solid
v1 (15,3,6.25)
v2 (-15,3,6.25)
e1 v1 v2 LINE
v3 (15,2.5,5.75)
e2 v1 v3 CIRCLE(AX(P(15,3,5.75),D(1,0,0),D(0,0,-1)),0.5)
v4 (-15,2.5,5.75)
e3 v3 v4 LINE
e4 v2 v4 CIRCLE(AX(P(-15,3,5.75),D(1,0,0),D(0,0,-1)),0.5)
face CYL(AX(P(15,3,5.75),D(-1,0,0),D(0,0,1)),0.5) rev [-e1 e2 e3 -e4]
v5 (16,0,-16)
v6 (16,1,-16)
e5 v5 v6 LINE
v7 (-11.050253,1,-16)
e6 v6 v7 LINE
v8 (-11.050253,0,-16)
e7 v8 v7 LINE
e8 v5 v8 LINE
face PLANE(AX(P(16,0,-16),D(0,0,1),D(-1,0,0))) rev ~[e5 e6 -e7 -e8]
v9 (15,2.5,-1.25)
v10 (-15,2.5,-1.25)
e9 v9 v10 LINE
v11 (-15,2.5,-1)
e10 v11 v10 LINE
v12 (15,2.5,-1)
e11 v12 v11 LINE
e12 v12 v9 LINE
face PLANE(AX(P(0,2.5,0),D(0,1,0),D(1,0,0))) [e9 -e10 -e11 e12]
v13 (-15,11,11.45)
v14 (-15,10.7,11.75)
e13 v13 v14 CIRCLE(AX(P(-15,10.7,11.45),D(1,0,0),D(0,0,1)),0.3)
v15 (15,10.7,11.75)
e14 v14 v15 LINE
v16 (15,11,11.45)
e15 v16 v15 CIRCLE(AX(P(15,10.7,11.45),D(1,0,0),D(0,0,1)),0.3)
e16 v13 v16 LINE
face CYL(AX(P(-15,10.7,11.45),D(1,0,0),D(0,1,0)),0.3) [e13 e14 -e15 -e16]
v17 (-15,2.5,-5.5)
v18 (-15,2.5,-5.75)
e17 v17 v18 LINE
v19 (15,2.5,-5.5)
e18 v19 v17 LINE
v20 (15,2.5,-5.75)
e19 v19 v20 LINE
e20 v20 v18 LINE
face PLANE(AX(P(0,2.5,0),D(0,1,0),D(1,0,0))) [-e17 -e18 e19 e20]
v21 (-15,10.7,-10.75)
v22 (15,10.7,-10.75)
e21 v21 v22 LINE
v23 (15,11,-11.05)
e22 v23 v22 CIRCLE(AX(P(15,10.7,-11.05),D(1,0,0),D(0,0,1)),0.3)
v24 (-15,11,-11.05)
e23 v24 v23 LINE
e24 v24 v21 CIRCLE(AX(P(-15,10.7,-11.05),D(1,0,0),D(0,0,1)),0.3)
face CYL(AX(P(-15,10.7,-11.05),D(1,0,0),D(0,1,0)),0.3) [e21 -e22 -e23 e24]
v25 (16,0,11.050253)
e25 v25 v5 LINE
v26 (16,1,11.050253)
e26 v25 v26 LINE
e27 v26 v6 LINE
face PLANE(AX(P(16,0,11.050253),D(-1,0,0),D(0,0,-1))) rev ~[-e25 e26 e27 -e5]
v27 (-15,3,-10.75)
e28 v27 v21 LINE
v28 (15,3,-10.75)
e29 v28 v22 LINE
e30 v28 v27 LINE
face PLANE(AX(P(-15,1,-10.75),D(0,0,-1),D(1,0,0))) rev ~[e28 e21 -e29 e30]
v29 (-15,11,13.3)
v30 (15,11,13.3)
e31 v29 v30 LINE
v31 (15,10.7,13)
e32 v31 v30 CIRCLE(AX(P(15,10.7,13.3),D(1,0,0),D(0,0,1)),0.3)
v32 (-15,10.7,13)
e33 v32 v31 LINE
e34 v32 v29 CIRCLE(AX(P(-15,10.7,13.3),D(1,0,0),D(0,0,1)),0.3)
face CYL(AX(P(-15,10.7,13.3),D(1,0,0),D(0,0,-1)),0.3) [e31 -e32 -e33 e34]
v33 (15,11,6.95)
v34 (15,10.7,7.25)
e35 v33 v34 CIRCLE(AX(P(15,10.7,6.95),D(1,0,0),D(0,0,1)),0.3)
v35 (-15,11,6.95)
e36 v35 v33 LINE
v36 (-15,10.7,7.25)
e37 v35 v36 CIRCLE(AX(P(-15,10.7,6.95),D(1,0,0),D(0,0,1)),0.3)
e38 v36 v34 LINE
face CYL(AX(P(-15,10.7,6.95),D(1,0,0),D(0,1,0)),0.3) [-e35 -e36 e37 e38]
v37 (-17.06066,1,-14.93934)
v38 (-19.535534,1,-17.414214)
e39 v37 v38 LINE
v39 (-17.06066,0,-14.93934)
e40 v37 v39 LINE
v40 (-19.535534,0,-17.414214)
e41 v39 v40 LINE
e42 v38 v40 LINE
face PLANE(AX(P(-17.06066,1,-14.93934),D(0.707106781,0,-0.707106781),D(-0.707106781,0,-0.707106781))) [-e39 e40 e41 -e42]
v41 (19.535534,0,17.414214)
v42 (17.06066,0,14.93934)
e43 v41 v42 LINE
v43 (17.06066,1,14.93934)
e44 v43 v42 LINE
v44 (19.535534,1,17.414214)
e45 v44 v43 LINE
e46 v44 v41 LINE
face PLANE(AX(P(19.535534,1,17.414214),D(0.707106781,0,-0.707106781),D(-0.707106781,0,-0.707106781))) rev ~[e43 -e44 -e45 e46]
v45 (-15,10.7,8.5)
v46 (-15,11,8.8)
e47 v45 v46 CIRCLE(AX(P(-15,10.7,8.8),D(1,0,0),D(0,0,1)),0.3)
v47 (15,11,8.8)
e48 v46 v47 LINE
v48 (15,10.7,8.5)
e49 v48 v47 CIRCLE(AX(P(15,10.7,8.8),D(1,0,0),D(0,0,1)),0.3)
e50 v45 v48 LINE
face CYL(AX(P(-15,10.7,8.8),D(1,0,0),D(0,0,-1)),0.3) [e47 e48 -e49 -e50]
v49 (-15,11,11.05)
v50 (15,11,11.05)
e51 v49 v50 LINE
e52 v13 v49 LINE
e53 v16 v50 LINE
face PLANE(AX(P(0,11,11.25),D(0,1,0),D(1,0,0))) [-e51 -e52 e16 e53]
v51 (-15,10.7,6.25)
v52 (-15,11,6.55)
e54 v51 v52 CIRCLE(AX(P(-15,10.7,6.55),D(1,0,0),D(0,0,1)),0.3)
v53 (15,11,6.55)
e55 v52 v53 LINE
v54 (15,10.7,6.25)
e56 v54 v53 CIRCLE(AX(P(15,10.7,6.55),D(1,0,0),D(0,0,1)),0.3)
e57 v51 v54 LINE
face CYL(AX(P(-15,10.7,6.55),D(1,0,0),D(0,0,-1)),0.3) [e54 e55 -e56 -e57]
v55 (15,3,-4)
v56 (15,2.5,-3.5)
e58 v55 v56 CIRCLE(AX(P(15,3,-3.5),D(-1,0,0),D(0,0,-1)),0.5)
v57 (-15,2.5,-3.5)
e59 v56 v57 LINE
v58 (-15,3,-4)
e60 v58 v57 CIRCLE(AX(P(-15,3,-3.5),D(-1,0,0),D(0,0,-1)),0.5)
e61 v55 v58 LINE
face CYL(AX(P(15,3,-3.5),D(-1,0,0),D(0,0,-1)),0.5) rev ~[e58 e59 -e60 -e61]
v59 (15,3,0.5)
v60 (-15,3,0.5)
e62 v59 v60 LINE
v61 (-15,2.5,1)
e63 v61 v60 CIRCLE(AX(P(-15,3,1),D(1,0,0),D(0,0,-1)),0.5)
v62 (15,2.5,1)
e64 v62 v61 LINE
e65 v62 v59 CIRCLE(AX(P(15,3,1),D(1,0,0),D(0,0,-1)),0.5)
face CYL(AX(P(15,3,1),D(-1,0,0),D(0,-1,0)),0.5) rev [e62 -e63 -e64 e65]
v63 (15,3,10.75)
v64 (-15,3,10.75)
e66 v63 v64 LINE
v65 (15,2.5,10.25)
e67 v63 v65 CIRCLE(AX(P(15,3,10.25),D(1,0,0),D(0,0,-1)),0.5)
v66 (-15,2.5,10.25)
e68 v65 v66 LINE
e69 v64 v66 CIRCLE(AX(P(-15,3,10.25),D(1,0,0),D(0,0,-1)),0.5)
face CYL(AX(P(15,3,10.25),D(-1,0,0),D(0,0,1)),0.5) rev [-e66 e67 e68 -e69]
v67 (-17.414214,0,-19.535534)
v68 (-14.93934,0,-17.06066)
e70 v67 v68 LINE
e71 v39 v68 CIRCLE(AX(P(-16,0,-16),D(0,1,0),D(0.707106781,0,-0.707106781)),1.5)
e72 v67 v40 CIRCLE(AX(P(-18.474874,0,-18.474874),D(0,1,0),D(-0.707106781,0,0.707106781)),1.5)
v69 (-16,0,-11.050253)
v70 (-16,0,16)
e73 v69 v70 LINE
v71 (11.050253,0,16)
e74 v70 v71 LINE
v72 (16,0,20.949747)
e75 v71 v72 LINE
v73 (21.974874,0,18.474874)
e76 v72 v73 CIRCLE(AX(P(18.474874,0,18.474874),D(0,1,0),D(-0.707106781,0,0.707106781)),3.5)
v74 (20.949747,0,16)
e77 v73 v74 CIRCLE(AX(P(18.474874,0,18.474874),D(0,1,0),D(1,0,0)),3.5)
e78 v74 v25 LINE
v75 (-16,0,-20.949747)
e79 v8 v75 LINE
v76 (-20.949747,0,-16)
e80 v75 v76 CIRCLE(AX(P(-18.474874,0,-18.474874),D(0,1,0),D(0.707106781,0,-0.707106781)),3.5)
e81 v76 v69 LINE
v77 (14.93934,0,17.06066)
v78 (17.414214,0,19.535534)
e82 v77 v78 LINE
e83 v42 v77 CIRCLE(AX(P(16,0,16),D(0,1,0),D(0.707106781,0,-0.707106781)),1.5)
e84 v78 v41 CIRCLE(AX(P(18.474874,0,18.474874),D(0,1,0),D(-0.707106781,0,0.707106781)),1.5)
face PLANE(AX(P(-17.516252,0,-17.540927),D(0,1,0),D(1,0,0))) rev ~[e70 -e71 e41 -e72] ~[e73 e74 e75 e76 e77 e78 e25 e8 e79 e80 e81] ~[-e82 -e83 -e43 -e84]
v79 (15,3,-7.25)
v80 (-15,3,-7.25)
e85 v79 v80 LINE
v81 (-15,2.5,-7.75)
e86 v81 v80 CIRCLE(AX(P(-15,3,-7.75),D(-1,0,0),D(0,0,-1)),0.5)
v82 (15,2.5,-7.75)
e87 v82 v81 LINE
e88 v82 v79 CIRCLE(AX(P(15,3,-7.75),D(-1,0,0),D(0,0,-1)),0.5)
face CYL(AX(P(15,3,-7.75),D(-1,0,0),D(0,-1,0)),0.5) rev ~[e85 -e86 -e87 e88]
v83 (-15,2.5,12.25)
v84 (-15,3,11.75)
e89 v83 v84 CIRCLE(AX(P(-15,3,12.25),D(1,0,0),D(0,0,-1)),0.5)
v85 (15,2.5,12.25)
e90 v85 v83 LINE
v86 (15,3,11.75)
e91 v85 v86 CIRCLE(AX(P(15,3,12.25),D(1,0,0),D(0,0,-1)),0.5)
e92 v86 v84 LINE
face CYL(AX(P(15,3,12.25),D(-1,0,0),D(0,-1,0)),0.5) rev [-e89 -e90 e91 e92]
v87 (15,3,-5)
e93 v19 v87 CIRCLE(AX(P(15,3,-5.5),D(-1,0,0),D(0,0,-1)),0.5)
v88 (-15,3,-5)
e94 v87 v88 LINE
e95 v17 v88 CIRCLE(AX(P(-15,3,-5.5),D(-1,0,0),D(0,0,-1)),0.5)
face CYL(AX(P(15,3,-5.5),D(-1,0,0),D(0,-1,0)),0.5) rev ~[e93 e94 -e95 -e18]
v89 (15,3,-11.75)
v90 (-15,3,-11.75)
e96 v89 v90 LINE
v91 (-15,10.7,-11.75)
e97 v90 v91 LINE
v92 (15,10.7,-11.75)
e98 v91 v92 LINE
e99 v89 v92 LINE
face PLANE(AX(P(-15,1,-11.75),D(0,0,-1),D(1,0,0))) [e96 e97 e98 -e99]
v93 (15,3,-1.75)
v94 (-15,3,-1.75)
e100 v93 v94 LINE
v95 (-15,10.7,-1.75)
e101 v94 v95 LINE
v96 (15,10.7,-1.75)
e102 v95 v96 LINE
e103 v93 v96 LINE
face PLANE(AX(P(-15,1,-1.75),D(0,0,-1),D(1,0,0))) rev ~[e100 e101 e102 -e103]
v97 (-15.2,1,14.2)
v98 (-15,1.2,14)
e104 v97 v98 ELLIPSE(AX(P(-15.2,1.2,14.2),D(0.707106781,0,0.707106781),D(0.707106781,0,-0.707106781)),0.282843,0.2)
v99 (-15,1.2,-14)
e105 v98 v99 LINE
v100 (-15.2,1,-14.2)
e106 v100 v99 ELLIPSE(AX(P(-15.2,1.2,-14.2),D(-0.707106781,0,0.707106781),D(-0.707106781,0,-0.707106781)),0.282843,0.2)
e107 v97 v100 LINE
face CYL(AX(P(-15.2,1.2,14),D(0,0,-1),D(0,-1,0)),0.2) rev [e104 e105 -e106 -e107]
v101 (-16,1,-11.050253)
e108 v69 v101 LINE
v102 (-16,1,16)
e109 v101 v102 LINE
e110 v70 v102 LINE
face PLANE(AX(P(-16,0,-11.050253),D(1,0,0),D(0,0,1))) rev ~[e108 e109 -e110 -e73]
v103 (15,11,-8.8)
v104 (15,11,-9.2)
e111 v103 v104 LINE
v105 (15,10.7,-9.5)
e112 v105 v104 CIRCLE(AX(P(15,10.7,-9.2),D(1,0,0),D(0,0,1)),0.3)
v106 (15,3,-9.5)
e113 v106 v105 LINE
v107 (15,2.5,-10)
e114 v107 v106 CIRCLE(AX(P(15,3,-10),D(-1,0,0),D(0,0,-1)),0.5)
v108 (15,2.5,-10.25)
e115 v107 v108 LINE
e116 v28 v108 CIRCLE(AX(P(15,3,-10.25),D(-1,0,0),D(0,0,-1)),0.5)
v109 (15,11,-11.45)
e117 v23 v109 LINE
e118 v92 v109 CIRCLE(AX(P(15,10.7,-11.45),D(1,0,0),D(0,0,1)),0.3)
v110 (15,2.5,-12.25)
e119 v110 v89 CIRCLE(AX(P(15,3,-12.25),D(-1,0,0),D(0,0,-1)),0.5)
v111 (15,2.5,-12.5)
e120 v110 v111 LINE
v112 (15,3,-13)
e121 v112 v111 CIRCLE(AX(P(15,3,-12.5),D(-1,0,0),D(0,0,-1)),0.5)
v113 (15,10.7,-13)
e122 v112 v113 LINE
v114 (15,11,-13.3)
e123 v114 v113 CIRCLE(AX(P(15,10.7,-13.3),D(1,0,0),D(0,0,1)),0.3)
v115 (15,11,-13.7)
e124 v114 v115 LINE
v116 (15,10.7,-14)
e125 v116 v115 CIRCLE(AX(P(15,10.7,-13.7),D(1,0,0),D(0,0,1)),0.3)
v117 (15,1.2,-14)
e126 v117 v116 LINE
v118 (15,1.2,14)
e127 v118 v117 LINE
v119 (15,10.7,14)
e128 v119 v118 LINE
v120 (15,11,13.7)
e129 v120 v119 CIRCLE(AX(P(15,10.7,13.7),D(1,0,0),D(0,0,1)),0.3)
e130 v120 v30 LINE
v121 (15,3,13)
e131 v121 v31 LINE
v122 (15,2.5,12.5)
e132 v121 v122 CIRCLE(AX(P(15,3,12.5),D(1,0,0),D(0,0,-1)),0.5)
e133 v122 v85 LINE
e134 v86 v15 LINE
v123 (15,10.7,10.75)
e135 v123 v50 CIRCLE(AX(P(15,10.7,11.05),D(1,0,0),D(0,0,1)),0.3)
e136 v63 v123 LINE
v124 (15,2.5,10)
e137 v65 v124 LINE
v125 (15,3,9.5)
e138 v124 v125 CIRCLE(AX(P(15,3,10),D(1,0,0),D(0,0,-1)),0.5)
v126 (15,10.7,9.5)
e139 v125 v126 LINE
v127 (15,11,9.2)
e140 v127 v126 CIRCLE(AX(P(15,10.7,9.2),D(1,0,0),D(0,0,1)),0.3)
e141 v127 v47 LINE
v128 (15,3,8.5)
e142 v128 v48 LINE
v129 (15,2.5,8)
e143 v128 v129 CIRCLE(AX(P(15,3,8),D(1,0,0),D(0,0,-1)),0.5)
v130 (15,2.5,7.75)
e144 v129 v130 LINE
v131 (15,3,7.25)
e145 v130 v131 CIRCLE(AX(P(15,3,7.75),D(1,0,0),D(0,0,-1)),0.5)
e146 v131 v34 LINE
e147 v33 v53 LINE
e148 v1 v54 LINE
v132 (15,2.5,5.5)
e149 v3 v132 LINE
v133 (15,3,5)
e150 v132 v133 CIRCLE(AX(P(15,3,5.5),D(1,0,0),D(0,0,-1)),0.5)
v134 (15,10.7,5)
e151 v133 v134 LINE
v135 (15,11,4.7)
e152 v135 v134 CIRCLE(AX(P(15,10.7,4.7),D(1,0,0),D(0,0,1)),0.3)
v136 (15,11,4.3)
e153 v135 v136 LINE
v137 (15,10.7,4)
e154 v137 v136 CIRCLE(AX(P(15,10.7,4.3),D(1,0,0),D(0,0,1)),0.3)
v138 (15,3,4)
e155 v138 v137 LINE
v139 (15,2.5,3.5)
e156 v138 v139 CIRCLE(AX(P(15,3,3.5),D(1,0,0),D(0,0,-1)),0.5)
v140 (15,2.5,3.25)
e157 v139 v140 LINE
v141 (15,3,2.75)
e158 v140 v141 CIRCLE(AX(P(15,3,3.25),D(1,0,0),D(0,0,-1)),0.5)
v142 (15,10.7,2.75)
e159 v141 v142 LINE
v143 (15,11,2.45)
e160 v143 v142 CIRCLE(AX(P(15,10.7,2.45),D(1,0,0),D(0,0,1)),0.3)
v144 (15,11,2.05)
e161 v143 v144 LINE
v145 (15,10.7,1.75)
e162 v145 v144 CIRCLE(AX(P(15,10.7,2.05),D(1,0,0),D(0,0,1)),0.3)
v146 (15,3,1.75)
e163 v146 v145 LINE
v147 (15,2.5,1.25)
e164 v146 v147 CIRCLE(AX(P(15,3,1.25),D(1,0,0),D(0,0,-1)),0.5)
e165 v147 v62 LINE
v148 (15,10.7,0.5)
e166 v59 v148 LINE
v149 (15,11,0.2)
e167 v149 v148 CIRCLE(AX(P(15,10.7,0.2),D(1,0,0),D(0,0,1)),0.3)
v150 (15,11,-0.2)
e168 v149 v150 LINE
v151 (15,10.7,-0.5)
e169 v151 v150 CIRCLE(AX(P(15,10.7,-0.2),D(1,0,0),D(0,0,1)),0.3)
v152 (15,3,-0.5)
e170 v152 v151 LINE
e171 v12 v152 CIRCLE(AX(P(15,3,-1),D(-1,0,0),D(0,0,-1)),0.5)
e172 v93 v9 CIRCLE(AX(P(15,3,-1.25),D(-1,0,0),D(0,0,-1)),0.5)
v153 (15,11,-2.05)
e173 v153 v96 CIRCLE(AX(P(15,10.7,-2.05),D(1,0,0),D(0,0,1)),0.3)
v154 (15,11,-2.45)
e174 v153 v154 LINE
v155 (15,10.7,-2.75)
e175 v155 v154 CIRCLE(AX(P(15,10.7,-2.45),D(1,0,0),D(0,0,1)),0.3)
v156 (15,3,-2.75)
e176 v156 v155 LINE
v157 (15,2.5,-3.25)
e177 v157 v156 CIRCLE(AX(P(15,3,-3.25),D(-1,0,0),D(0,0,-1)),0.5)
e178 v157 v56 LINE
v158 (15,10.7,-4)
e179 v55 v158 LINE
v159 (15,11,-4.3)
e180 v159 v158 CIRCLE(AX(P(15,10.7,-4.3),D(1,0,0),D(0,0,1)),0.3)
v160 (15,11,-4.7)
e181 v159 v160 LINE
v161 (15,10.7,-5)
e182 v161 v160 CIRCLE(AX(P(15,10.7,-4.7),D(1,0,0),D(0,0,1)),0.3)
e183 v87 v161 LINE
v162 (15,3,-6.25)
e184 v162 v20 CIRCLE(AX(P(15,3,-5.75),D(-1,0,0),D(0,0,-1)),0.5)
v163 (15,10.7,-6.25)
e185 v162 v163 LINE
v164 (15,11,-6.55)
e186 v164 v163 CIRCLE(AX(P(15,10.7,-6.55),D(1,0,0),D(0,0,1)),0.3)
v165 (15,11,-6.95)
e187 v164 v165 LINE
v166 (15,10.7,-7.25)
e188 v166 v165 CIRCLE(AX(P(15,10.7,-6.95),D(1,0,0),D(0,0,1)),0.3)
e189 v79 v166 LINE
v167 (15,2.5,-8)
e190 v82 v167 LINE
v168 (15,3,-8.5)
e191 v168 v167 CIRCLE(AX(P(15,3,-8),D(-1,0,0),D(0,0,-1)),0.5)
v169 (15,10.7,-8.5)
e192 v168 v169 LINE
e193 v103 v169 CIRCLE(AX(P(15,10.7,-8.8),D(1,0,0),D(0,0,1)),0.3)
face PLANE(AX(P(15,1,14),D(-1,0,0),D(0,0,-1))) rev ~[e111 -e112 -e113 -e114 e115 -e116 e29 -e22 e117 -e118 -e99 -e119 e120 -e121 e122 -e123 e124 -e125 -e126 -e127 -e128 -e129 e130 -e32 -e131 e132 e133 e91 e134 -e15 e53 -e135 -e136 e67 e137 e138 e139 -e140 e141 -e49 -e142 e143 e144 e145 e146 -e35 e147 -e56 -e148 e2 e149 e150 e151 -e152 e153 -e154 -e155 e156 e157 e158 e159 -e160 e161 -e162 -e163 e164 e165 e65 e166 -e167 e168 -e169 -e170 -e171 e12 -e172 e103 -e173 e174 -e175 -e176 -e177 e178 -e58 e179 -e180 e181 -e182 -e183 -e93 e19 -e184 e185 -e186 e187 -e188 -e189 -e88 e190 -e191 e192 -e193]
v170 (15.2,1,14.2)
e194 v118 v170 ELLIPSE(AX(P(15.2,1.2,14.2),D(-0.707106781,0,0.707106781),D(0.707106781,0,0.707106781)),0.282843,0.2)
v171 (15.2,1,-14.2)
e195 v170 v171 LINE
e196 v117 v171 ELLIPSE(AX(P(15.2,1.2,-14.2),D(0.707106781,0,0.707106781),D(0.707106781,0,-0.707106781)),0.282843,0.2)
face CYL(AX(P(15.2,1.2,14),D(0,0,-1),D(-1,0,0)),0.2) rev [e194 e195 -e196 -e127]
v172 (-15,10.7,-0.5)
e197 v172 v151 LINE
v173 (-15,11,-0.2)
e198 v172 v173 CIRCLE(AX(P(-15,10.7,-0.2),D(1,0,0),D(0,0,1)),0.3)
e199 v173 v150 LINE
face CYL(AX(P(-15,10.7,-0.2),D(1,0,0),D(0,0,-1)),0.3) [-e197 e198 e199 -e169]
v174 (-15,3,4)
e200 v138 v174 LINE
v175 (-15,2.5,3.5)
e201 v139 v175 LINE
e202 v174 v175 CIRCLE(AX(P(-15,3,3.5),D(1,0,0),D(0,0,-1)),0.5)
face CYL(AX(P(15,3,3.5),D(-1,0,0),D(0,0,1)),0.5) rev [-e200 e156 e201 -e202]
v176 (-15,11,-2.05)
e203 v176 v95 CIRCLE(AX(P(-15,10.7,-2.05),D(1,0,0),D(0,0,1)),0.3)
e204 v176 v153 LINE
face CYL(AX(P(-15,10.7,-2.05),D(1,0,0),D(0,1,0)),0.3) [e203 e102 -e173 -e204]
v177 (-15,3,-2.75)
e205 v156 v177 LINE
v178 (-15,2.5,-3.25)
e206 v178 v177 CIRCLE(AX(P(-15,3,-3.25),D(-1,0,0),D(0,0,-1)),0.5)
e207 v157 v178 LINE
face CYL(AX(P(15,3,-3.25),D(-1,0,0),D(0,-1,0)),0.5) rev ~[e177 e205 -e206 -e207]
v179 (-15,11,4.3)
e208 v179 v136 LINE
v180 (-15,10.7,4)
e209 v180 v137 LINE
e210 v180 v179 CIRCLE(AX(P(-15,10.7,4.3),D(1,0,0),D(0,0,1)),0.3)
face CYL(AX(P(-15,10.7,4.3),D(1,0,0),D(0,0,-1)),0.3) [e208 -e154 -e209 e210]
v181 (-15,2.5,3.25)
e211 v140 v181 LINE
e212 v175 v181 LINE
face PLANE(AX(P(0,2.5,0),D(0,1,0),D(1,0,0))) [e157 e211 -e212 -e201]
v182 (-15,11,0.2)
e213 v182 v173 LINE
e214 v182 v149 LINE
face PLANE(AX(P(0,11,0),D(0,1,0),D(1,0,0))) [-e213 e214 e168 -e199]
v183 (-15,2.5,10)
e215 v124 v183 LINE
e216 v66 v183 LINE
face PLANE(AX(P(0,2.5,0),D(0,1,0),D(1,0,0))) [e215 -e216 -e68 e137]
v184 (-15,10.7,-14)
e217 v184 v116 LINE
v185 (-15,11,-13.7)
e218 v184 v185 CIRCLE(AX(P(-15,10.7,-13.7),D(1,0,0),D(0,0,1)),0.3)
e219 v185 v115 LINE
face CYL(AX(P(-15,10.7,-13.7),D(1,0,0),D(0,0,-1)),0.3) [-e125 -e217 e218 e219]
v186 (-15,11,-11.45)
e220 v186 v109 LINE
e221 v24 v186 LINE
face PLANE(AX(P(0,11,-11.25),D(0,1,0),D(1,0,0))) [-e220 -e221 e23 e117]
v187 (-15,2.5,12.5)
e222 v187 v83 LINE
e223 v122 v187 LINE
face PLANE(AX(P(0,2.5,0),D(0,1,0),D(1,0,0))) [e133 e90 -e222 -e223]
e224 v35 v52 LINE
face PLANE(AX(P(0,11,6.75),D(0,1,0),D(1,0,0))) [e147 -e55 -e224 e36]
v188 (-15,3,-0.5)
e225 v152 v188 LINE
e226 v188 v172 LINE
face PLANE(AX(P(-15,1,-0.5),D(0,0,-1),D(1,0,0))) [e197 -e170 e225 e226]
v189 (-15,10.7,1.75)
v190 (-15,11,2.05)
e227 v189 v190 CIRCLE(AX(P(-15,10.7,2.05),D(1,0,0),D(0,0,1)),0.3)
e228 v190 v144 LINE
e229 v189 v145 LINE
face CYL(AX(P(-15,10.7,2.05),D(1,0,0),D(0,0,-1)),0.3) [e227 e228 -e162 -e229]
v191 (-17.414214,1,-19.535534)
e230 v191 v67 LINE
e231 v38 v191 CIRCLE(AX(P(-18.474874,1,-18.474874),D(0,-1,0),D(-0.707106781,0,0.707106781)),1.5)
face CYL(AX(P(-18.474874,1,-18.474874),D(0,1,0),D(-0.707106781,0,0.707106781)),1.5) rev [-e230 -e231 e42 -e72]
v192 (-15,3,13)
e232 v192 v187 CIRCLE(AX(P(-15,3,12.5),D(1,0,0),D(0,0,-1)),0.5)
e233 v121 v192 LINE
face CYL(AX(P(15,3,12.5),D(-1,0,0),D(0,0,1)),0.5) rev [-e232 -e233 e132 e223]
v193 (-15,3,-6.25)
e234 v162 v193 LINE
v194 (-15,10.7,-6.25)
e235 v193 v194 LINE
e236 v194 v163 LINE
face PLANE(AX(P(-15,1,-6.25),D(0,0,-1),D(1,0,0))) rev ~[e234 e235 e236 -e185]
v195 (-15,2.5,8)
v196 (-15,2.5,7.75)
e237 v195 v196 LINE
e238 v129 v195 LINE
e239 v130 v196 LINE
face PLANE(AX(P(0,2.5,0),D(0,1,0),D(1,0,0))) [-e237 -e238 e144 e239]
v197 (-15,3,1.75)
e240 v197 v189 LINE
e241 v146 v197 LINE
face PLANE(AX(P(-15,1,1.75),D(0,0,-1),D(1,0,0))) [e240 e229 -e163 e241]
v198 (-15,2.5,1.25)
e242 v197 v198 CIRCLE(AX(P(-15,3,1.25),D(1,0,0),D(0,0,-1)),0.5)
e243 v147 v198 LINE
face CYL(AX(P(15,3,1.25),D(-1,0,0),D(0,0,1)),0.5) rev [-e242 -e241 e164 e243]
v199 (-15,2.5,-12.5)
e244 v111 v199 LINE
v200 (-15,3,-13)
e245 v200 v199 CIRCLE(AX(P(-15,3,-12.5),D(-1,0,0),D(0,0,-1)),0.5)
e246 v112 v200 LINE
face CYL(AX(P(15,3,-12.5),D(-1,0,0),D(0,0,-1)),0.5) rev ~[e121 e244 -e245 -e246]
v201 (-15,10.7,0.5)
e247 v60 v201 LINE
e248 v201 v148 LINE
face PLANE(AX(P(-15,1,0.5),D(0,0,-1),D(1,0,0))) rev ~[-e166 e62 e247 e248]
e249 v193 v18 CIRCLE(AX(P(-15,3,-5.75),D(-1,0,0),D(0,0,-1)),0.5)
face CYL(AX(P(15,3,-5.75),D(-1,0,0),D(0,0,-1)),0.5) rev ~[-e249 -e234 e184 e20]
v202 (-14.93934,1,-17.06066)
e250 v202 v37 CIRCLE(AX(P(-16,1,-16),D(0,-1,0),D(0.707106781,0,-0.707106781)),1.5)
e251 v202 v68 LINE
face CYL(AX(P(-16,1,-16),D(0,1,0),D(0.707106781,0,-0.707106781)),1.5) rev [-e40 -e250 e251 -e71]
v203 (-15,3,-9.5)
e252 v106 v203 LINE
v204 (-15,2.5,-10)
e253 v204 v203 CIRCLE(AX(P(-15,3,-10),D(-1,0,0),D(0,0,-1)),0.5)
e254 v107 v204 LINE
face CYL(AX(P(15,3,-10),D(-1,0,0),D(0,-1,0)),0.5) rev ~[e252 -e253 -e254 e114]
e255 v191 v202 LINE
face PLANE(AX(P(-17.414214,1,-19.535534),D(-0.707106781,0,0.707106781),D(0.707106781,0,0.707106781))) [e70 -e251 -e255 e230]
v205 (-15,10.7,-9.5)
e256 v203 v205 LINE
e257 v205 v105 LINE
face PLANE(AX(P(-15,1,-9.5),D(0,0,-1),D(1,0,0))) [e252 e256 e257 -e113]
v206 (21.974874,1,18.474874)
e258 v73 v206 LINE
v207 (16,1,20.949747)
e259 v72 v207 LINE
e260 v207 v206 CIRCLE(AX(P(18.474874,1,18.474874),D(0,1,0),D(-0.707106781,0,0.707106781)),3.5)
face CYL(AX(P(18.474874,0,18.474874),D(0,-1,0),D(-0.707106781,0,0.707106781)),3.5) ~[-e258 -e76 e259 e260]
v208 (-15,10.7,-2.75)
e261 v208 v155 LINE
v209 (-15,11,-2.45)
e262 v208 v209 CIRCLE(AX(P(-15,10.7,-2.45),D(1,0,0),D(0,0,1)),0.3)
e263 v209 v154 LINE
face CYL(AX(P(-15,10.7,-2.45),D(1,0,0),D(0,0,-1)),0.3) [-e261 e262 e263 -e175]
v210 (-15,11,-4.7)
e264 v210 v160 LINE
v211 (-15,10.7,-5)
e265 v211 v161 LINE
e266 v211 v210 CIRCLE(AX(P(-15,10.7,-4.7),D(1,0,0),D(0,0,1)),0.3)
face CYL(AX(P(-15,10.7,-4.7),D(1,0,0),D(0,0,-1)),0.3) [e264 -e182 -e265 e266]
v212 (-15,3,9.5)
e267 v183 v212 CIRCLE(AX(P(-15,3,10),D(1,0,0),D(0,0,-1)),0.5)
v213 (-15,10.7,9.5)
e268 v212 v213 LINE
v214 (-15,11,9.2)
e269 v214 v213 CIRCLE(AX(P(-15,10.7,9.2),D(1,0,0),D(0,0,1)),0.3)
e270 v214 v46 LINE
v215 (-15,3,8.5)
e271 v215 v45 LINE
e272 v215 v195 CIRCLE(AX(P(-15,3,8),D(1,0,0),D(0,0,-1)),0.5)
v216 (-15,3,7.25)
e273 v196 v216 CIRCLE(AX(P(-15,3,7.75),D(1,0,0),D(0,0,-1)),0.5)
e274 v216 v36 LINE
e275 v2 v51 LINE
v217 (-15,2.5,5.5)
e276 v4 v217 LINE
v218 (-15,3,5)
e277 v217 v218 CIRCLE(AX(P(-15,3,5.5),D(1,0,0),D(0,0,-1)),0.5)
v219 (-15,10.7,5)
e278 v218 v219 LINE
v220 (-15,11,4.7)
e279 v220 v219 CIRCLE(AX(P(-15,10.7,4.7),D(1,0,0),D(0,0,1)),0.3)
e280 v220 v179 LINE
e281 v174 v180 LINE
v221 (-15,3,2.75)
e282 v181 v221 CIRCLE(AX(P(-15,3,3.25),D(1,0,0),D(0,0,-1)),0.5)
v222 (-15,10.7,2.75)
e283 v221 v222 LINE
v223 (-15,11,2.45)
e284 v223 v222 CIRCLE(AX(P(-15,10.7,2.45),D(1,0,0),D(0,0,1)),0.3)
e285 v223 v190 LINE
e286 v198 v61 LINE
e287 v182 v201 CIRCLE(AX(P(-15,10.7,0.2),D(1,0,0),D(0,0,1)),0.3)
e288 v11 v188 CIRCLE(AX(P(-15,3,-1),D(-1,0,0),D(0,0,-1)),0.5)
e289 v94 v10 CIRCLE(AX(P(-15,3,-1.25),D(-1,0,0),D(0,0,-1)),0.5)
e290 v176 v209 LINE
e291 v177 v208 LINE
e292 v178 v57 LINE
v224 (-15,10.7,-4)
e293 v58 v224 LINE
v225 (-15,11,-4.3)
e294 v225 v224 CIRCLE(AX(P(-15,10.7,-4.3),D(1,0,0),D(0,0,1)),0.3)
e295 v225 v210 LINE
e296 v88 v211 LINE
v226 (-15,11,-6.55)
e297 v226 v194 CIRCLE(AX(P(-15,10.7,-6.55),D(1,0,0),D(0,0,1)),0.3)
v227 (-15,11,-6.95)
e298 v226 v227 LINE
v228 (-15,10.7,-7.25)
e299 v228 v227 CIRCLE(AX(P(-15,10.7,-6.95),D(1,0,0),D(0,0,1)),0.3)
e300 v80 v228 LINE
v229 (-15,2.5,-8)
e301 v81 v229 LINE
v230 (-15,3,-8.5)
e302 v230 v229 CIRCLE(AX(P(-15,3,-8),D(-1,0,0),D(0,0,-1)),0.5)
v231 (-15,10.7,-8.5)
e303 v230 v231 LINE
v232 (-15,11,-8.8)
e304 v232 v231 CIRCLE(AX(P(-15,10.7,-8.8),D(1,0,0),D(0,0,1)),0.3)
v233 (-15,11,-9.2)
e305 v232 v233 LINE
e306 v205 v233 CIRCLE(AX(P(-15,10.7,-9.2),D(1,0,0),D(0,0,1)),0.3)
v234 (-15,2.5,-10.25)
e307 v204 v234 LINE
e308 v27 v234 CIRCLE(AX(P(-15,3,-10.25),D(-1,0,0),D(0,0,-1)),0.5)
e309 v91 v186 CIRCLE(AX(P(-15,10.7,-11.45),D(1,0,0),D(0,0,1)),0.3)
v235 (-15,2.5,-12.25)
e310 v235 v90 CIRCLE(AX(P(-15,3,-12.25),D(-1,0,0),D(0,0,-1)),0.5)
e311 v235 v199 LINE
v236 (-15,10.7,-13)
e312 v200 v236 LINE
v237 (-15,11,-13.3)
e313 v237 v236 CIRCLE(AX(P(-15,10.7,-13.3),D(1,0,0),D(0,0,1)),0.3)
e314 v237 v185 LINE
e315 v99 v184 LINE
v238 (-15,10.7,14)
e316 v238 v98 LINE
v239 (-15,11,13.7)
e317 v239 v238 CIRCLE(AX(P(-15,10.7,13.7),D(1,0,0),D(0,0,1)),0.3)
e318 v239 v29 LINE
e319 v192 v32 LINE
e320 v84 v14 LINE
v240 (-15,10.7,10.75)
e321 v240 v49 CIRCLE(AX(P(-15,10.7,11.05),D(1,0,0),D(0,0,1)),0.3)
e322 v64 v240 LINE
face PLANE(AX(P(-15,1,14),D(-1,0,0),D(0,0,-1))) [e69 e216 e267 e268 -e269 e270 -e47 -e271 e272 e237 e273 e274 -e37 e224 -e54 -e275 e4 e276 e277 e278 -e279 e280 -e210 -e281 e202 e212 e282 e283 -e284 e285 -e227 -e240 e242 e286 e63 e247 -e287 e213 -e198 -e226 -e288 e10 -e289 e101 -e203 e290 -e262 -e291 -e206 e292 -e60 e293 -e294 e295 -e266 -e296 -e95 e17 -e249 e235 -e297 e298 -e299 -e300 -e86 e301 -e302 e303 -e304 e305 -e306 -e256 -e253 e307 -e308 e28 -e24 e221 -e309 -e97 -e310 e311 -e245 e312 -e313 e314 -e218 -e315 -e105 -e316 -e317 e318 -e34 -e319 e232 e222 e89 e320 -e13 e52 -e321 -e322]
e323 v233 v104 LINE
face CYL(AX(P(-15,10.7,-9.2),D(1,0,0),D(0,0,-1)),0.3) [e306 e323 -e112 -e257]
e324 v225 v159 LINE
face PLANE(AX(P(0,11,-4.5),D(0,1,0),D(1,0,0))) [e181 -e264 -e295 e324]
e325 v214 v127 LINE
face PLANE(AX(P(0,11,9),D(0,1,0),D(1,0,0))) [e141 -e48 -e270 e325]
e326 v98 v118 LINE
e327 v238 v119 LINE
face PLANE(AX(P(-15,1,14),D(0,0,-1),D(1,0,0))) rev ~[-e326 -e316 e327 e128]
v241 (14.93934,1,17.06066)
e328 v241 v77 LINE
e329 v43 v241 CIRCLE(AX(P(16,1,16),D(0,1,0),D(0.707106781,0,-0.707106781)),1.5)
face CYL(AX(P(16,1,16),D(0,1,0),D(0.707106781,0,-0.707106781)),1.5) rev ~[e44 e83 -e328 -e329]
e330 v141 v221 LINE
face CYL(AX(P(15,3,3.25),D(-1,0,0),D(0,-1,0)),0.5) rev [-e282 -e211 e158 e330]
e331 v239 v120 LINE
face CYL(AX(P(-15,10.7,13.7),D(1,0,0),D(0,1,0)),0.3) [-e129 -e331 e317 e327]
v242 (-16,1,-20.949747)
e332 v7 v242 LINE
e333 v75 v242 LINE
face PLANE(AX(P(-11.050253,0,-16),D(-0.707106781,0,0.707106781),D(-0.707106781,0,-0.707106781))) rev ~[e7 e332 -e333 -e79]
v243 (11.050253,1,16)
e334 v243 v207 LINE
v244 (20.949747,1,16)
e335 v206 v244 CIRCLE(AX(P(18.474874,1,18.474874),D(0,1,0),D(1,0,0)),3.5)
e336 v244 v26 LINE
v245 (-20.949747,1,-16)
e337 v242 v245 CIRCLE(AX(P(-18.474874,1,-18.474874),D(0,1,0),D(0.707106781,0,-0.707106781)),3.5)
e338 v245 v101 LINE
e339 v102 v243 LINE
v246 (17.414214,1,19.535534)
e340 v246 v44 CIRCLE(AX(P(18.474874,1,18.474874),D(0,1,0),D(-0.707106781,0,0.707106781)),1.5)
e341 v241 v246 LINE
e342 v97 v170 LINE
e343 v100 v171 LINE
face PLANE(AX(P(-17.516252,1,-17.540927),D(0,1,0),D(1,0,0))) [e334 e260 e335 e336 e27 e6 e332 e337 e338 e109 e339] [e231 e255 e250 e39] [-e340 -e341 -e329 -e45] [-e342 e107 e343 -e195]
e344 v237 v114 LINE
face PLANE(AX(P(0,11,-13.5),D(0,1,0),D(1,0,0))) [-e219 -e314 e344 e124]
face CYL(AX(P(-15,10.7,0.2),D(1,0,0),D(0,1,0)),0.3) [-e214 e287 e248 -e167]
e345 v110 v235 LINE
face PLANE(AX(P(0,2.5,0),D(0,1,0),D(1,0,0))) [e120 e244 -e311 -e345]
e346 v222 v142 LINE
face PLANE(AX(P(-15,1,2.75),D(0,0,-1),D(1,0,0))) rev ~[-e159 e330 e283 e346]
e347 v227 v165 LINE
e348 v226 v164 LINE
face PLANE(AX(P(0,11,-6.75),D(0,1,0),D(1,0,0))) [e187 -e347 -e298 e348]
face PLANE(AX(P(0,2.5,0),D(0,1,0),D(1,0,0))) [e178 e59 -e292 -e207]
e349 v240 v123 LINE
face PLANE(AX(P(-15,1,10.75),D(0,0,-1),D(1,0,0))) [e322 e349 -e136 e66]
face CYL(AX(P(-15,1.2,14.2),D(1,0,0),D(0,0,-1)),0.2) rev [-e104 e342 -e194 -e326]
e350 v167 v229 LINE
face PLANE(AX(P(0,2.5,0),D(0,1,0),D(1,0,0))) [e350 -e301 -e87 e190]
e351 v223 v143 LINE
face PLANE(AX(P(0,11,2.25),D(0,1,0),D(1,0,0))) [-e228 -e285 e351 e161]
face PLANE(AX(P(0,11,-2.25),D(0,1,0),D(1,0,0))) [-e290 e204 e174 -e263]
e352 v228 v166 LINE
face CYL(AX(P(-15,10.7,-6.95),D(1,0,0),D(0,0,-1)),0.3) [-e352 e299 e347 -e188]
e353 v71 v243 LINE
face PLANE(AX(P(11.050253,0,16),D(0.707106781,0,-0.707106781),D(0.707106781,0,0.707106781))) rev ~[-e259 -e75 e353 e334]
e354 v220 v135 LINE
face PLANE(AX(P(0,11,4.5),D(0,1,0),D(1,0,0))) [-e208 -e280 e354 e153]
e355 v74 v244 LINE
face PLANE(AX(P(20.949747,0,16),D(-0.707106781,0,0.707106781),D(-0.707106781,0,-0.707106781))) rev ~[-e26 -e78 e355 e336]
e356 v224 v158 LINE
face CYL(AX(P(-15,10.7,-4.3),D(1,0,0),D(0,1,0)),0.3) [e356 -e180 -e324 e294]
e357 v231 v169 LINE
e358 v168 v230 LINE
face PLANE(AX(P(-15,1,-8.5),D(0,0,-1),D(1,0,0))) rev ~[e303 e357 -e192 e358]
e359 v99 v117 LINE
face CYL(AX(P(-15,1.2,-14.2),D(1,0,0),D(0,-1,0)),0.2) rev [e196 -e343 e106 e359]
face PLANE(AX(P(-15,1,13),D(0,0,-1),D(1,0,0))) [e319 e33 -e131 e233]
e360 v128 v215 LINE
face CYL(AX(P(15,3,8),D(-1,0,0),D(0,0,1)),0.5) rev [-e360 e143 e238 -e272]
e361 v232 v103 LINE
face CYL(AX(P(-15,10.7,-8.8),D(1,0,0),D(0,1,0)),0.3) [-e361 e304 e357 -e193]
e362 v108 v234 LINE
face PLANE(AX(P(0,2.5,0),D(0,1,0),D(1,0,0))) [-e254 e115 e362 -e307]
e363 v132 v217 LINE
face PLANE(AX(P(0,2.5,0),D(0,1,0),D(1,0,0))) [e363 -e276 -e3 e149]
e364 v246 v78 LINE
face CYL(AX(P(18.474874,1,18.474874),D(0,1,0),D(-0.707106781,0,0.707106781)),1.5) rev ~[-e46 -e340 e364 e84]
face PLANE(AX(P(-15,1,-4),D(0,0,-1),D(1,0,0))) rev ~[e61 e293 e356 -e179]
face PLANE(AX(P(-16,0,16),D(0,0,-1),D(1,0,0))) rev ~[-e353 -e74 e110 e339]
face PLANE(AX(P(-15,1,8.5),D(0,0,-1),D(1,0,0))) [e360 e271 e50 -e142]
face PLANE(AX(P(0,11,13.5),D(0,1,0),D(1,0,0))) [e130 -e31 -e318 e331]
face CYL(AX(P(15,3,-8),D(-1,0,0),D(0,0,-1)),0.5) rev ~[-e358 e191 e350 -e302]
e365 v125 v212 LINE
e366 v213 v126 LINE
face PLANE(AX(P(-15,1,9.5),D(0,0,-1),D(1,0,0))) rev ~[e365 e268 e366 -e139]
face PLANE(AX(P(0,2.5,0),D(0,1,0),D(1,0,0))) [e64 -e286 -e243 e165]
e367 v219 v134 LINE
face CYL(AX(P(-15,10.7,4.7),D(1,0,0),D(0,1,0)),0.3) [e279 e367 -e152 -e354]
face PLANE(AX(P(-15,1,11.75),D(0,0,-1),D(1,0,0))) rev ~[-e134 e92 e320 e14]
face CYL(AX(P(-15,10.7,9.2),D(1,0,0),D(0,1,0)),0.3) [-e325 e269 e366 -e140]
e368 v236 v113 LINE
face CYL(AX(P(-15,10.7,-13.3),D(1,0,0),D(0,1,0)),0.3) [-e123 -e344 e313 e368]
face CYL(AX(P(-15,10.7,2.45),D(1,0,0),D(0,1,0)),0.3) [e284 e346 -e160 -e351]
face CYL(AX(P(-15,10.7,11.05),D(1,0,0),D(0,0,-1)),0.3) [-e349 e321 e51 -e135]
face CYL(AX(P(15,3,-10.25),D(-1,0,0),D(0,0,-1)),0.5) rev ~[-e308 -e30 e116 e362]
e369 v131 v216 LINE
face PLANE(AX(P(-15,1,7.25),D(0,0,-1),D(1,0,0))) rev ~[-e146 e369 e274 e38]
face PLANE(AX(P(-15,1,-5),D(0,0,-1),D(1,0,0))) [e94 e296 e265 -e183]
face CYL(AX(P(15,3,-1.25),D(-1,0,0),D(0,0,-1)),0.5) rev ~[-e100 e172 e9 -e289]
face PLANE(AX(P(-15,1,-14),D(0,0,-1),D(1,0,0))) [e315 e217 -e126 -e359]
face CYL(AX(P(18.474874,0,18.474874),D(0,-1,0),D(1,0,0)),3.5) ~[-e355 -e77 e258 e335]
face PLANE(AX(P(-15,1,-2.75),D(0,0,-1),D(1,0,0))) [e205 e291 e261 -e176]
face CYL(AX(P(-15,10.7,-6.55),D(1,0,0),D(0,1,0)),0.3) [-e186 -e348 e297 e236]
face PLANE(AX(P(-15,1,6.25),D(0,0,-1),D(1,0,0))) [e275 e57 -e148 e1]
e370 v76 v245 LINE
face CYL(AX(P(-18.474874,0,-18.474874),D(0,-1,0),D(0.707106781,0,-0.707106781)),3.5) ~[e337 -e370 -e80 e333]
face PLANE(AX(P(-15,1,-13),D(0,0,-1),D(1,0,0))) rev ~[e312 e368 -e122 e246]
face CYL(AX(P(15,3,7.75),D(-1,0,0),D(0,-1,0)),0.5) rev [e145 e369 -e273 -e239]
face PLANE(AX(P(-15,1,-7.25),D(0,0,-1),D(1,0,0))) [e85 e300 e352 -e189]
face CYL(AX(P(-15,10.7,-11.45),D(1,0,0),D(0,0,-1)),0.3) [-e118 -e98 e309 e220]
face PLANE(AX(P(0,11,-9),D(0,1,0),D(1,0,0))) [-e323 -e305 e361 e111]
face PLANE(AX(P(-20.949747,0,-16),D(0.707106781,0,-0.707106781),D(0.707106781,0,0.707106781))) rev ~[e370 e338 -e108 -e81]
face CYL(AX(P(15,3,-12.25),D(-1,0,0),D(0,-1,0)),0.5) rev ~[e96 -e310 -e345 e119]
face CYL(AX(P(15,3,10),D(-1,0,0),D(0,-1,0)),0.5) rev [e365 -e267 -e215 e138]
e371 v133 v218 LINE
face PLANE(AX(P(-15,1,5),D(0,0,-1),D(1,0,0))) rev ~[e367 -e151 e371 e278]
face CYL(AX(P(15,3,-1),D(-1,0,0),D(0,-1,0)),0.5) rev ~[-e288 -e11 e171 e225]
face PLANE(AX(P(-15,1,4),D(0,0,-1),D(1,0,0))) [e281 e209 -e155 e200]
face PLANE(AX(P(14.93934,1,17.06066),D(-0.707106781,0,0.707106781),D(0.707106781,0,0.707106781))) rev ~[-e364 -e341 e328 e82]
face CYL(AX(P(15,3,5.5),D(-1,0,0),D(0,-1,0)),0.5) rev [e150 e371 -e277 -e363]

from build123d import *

# Parameters (mm, degrees)
DODANIE_WYCI_GNI_CIE2_DEPTH = 1
WYTNIJ_WYCI_GNI_CIE1_DEPTH  = 32.093249288
SZKIC4_W                    = 30
SZKIC4_H                    = 28
DODANIE_WYCI_GNI_CIE3_DEPTH = 1.5
SZKIC3_W                    = 30
SZKIC3_H                    = 1
DODANIE_WYCI_GNI_CIE4_DEPTH = 10
ZAOKR_GLENIE1_R             = 0.3
ZAOKR_GLENIE2_R             = 0.5
ZAOKR_GLENIE3_R             = 0.2


with BuildPart() as part:
    # Szkic1 → Dodanie-wyciągnięcie2 (new body)
    with BuildSketch(Plane(origin=(0, 0, 0), x_dir=(1, 0, 0), z_dir=(0, 1, 0))):
        with BuildLine():
            ThreePointArc((-14.974873734, 18.474873734), (-15.24129537, 19.814265747), (-16, 20.949747468))
            Line((-16, 20.949747468), (-20.949747468, 16))
            ThreePointArc((-20.949747468, 16), (-18.474873734, 14.974873734), (-16, 16))
            ThreePointArc((-16, 16), (-15.24129537, 17.135481721), (-14.974873734, 18.474873734))
        make_face()
        with BuildLine():
            Line((-20.949747468, 16), (-16, 20.949747468))
            ThreePointArc((-16, 20.949747468), (-20.949747468, 20.949747468), (-20.949747468, 16))
        make_face()
        with BuildLine():
            Line((-11.050252532, 16), (-16, 20.949747468))
            ThreePointArc((-16, 20.949747468), (-15.24129537, 19.814265747), (-14.974873734, 18.474873734))
            ThreePointArc((-14.974873734, 18.474873734), (-15.24129537, 17.135481721), (-16, 16))
            Line((-16, 16), (-11.050252532, 16))
        make_face()
        Polygon((16, -11.050252532), (-11.050252532, 16), (-16, 16), (-16, 11.050252532), (11.050252532, -16), (16, -16), align=None)
        with BuildLine():
            ThreePointArc((-16, 16), (-18.474873734, 14.974873734), (-20.949747468, 16))
            Line((-20.949747468, 16), (-16, 11.050252532))
            Line((-16, 11.050252532), (-16, 16))
        make_face()
        Polygon((11.050252532, -16), (-16, 11.050252532), (-16, -16), align=None)
        Polygon((16, 16), (-11.050252532, 16), (16, -11.050252532), align=None)
        with BuildLine():
            Line((20.949747468, -16), (16, -11.050252532))
            Line((16, -11.050252532), (16, -16))
            ThreePointArc((16, -16), (18.474873734, -14.974873734), (20.949747468, -16))
        make_face()
        with BuildLine():
            ThreePointArc((21.974873734, -18.474873734), (21.708452098, -17.135481721), (20.949747468, -16))
            Line((20.949747468, -16), (16, -20.949747468))
            ThreePointArc((16, -20.949747468), (19.814265747, -21.708452098), (21.974873734, -18.474873734))
        make_face()
        with BuildLine():
            Line((16, -20.949747468), (20.949747468, -16))
            ThreePointArc((20.949747468, -16), (18.474873734, -14.974873734), (16, -16))
            ThreePointArc((16, -16), (14.974873734, -18.474873734), (16, -20.949747468))
        make_face()
        with BuildLine():
            ThreePointArc((16, -20.949747468), (14.974873734, -18.474873734), (16, -16))
            Line((16, -16), (11.050252532, -16))
            Line((11.050252532, -16), (16, -20.949747468))
        make_face()
    extrude(amount=DODANIE_WYCI_GNI_CIE2_DEPTH)

    # Szkic2 → Wytnij-wyciągnięcie1 (cut, through all)
    with BuildSketch(Plane(origin=(0, 1, 0), x_dir=(1, 0, 0), z_dir=(0, 1, 0))):
        with BuildLine():
            Line((-17.414213562, 19.535533906), (-14.939339828, 17.060660172))
            ThreePointArc((-14.939339828, 17.060660172), (-14.939339828, 14.939339828), (-17.060660172, 14.939339828))
            Line((-17.060660172, 14.939339828), (-19.535533906, 17.414213562))
            ThreePointArc((-19.535533906, 17.414213562), (-19.535533906, 19.535533906), (-17.414213562, 19.535533906))
        make_face()
        with BuildLine():
            Line((19.535533906, -17.414213562), (17.060660172, -14.939339828))
            ThreePointArc((17.060660172, -14.939339828), (14.939339828, -14.939339828), (14.939339828, -17.060660172))
            Line((14.939339828, -17.060660172), (17.414213562, -19.535533906))
            ThreePointArc((17.414213562, -19.535533906), (19.535533906, -19.535533906), (19.535533906, -17.414213562))
        make_face()
    extrude(amount=-WYTNIJ_WYCI_GNI_CIE1_DEPTH, mode=Mode.SUBTRACT)

    # Szkic4 → Dodanie-wyciągnięcie3 (add)
    with BuildSketch(Plane(origin=(0, 1, 0), x_dir=(1, 0, 0), z_dir=(0, 1, 0))):
        Rectangle(SZKIC4_W, SZKIC4_H)
    extrude(amount=DODANIE_WYCI_GNI_CIE3_DEPTH)

    # Szkic3 → Dodanie-wyciągnięcie4 (add)
    with BuildSketch(Plane(origin=(0, 1, 0), x_dir=(1, 0, 0), z_dir=(0, 1, 0))):
        with Locations((0, 13.5)):
            Rectangle(SZKIC3_W, SZKIC3_H)
        with Locations((0, 4.5)):
            Rectangle(SZKIC3_W, SZKIC3_H)
        with Locations((0, -4.5)):
            Rectangle(SZKIC3_W, SZKIC3_H)
        with Locations((0, -11.25)):
            Rectangle(SZKIC3_W, SZKIC3_H)
        with Locations((0, -13.5)):
            Rectangle(SZKIC3_W, SZKIC3_H)
        with Locations((0, 11.25)):
            Rectangle(SZKIC3_W, SZKIC3_H)
        with Locations((0, 9)):
            Rectangle(SZKIC3_W, SZKIC3_H)
        with Locations((0, 6.75)):
            Rectangle(SZKIC3_W, SZKIC3_H)
        with Locations((0, 2.25)):
            Rectangle(SZKIC3_W, SZKIC3_H)
        Rectangle(SZKIC3_W, SZKIC3_H)
        with Locations((0, -2.25)):
            Rectangle(SZKIC3_W, SZKIC3_H)
        with Locations((0, -6.75)):
            Rectangle(SZKIC3_W, SZKIC3_H)
        with Locations((0, -9)):
            Rectangle(SZKIC3_W, SZKIC3_H)
    extrude(amount=DODANIE_WYCI_GNI_CIE4_DEPTH)

    # Zaokrąglenie1
    zaokr_glenie1_edges = [part.edges().sort_by_distance(p)[0] for p in [
        (0, 11, -5),
        (0, 11, -4),
        (0, 11, 4),
        (0, 11, 5),
        (0, 11, 10.75),
        (0, 11, 11.75),
        (0, 11, 13),
        (0, 11, 14),
        (0, 11, -11.75),
        (0, 11, -10.75),
        (0, 11, -9.5),
        (0, 11, -8.5),
        (0, 11, -7.25),
        (0, 11, -6.25),
        (0, 11, -2.75),
        (0, 11, -1.75),
        (0, 11, -0.5),
        (0, 11, 0.5),
        (0, 11, 1.75),
        (0, 11, 2.75),
        (0, 11, 6.25),
        (0, 11, 7.25),
        (0, 11, 8.5),
        (0, 11, 9.5),
        (0, 11, -14),
        (0, 11, -13),
    ]]
    fillet(zaokr_glenie1_edges, radius=ZAOKR_GLENIE1_R)

    # Zaokrąglenie2
    zaokr_glenie2_edges = [part.edges().sort_by_distance(p)[0] for p in [
        (0, 2.5, -4),
        (0, 2.5, -5),
        (0, 2.5, 5),
        (0, 2.5, 4),
        (0, 2.5, 11.75),
        (0, 2.5, 10.75),
        (0, 2.5, 13),
        (0, 2.5, -10.75),
        (0, 2.5, -11.75),
        (0, 2.5, -8.5),
        (0, 2.5, -9.5),
        (0, 2.5, -6.25),
        (0, 2.5, -7.25),
        (0, 2.5, -1.75),
        (0, 2.5, -2.75),
        (0, 2.5, 0.5),
        (0, 2.5, -0.5),
        (0, 2.5, 2.75),
        (0, 2.5, 1.75),
        (0, 2.5, 7.25),
        (0, 2.5, 6.25),
        (0, 2.5, 9.5),
        (0, 2.5, 8.5),
        (0, 2.5, -13),
    ]]
    fillet(zaokr_glenie2_edges, radius=ZAOKR_GLENIE2_R)

    # Zaokrąglenie3
    zaokr_glenie3_edges = [part.edges().sort_by_distance(p)[0] for p in [
        (-15, 1, 0),
        (0, 1, 14),
        (15, 1, 0),
        (0, 1, -14),
    ]]
    fillet(zaokr_glenie3_edges, radius=ZAOKR_GLENIE3_R)


solid = part.part
